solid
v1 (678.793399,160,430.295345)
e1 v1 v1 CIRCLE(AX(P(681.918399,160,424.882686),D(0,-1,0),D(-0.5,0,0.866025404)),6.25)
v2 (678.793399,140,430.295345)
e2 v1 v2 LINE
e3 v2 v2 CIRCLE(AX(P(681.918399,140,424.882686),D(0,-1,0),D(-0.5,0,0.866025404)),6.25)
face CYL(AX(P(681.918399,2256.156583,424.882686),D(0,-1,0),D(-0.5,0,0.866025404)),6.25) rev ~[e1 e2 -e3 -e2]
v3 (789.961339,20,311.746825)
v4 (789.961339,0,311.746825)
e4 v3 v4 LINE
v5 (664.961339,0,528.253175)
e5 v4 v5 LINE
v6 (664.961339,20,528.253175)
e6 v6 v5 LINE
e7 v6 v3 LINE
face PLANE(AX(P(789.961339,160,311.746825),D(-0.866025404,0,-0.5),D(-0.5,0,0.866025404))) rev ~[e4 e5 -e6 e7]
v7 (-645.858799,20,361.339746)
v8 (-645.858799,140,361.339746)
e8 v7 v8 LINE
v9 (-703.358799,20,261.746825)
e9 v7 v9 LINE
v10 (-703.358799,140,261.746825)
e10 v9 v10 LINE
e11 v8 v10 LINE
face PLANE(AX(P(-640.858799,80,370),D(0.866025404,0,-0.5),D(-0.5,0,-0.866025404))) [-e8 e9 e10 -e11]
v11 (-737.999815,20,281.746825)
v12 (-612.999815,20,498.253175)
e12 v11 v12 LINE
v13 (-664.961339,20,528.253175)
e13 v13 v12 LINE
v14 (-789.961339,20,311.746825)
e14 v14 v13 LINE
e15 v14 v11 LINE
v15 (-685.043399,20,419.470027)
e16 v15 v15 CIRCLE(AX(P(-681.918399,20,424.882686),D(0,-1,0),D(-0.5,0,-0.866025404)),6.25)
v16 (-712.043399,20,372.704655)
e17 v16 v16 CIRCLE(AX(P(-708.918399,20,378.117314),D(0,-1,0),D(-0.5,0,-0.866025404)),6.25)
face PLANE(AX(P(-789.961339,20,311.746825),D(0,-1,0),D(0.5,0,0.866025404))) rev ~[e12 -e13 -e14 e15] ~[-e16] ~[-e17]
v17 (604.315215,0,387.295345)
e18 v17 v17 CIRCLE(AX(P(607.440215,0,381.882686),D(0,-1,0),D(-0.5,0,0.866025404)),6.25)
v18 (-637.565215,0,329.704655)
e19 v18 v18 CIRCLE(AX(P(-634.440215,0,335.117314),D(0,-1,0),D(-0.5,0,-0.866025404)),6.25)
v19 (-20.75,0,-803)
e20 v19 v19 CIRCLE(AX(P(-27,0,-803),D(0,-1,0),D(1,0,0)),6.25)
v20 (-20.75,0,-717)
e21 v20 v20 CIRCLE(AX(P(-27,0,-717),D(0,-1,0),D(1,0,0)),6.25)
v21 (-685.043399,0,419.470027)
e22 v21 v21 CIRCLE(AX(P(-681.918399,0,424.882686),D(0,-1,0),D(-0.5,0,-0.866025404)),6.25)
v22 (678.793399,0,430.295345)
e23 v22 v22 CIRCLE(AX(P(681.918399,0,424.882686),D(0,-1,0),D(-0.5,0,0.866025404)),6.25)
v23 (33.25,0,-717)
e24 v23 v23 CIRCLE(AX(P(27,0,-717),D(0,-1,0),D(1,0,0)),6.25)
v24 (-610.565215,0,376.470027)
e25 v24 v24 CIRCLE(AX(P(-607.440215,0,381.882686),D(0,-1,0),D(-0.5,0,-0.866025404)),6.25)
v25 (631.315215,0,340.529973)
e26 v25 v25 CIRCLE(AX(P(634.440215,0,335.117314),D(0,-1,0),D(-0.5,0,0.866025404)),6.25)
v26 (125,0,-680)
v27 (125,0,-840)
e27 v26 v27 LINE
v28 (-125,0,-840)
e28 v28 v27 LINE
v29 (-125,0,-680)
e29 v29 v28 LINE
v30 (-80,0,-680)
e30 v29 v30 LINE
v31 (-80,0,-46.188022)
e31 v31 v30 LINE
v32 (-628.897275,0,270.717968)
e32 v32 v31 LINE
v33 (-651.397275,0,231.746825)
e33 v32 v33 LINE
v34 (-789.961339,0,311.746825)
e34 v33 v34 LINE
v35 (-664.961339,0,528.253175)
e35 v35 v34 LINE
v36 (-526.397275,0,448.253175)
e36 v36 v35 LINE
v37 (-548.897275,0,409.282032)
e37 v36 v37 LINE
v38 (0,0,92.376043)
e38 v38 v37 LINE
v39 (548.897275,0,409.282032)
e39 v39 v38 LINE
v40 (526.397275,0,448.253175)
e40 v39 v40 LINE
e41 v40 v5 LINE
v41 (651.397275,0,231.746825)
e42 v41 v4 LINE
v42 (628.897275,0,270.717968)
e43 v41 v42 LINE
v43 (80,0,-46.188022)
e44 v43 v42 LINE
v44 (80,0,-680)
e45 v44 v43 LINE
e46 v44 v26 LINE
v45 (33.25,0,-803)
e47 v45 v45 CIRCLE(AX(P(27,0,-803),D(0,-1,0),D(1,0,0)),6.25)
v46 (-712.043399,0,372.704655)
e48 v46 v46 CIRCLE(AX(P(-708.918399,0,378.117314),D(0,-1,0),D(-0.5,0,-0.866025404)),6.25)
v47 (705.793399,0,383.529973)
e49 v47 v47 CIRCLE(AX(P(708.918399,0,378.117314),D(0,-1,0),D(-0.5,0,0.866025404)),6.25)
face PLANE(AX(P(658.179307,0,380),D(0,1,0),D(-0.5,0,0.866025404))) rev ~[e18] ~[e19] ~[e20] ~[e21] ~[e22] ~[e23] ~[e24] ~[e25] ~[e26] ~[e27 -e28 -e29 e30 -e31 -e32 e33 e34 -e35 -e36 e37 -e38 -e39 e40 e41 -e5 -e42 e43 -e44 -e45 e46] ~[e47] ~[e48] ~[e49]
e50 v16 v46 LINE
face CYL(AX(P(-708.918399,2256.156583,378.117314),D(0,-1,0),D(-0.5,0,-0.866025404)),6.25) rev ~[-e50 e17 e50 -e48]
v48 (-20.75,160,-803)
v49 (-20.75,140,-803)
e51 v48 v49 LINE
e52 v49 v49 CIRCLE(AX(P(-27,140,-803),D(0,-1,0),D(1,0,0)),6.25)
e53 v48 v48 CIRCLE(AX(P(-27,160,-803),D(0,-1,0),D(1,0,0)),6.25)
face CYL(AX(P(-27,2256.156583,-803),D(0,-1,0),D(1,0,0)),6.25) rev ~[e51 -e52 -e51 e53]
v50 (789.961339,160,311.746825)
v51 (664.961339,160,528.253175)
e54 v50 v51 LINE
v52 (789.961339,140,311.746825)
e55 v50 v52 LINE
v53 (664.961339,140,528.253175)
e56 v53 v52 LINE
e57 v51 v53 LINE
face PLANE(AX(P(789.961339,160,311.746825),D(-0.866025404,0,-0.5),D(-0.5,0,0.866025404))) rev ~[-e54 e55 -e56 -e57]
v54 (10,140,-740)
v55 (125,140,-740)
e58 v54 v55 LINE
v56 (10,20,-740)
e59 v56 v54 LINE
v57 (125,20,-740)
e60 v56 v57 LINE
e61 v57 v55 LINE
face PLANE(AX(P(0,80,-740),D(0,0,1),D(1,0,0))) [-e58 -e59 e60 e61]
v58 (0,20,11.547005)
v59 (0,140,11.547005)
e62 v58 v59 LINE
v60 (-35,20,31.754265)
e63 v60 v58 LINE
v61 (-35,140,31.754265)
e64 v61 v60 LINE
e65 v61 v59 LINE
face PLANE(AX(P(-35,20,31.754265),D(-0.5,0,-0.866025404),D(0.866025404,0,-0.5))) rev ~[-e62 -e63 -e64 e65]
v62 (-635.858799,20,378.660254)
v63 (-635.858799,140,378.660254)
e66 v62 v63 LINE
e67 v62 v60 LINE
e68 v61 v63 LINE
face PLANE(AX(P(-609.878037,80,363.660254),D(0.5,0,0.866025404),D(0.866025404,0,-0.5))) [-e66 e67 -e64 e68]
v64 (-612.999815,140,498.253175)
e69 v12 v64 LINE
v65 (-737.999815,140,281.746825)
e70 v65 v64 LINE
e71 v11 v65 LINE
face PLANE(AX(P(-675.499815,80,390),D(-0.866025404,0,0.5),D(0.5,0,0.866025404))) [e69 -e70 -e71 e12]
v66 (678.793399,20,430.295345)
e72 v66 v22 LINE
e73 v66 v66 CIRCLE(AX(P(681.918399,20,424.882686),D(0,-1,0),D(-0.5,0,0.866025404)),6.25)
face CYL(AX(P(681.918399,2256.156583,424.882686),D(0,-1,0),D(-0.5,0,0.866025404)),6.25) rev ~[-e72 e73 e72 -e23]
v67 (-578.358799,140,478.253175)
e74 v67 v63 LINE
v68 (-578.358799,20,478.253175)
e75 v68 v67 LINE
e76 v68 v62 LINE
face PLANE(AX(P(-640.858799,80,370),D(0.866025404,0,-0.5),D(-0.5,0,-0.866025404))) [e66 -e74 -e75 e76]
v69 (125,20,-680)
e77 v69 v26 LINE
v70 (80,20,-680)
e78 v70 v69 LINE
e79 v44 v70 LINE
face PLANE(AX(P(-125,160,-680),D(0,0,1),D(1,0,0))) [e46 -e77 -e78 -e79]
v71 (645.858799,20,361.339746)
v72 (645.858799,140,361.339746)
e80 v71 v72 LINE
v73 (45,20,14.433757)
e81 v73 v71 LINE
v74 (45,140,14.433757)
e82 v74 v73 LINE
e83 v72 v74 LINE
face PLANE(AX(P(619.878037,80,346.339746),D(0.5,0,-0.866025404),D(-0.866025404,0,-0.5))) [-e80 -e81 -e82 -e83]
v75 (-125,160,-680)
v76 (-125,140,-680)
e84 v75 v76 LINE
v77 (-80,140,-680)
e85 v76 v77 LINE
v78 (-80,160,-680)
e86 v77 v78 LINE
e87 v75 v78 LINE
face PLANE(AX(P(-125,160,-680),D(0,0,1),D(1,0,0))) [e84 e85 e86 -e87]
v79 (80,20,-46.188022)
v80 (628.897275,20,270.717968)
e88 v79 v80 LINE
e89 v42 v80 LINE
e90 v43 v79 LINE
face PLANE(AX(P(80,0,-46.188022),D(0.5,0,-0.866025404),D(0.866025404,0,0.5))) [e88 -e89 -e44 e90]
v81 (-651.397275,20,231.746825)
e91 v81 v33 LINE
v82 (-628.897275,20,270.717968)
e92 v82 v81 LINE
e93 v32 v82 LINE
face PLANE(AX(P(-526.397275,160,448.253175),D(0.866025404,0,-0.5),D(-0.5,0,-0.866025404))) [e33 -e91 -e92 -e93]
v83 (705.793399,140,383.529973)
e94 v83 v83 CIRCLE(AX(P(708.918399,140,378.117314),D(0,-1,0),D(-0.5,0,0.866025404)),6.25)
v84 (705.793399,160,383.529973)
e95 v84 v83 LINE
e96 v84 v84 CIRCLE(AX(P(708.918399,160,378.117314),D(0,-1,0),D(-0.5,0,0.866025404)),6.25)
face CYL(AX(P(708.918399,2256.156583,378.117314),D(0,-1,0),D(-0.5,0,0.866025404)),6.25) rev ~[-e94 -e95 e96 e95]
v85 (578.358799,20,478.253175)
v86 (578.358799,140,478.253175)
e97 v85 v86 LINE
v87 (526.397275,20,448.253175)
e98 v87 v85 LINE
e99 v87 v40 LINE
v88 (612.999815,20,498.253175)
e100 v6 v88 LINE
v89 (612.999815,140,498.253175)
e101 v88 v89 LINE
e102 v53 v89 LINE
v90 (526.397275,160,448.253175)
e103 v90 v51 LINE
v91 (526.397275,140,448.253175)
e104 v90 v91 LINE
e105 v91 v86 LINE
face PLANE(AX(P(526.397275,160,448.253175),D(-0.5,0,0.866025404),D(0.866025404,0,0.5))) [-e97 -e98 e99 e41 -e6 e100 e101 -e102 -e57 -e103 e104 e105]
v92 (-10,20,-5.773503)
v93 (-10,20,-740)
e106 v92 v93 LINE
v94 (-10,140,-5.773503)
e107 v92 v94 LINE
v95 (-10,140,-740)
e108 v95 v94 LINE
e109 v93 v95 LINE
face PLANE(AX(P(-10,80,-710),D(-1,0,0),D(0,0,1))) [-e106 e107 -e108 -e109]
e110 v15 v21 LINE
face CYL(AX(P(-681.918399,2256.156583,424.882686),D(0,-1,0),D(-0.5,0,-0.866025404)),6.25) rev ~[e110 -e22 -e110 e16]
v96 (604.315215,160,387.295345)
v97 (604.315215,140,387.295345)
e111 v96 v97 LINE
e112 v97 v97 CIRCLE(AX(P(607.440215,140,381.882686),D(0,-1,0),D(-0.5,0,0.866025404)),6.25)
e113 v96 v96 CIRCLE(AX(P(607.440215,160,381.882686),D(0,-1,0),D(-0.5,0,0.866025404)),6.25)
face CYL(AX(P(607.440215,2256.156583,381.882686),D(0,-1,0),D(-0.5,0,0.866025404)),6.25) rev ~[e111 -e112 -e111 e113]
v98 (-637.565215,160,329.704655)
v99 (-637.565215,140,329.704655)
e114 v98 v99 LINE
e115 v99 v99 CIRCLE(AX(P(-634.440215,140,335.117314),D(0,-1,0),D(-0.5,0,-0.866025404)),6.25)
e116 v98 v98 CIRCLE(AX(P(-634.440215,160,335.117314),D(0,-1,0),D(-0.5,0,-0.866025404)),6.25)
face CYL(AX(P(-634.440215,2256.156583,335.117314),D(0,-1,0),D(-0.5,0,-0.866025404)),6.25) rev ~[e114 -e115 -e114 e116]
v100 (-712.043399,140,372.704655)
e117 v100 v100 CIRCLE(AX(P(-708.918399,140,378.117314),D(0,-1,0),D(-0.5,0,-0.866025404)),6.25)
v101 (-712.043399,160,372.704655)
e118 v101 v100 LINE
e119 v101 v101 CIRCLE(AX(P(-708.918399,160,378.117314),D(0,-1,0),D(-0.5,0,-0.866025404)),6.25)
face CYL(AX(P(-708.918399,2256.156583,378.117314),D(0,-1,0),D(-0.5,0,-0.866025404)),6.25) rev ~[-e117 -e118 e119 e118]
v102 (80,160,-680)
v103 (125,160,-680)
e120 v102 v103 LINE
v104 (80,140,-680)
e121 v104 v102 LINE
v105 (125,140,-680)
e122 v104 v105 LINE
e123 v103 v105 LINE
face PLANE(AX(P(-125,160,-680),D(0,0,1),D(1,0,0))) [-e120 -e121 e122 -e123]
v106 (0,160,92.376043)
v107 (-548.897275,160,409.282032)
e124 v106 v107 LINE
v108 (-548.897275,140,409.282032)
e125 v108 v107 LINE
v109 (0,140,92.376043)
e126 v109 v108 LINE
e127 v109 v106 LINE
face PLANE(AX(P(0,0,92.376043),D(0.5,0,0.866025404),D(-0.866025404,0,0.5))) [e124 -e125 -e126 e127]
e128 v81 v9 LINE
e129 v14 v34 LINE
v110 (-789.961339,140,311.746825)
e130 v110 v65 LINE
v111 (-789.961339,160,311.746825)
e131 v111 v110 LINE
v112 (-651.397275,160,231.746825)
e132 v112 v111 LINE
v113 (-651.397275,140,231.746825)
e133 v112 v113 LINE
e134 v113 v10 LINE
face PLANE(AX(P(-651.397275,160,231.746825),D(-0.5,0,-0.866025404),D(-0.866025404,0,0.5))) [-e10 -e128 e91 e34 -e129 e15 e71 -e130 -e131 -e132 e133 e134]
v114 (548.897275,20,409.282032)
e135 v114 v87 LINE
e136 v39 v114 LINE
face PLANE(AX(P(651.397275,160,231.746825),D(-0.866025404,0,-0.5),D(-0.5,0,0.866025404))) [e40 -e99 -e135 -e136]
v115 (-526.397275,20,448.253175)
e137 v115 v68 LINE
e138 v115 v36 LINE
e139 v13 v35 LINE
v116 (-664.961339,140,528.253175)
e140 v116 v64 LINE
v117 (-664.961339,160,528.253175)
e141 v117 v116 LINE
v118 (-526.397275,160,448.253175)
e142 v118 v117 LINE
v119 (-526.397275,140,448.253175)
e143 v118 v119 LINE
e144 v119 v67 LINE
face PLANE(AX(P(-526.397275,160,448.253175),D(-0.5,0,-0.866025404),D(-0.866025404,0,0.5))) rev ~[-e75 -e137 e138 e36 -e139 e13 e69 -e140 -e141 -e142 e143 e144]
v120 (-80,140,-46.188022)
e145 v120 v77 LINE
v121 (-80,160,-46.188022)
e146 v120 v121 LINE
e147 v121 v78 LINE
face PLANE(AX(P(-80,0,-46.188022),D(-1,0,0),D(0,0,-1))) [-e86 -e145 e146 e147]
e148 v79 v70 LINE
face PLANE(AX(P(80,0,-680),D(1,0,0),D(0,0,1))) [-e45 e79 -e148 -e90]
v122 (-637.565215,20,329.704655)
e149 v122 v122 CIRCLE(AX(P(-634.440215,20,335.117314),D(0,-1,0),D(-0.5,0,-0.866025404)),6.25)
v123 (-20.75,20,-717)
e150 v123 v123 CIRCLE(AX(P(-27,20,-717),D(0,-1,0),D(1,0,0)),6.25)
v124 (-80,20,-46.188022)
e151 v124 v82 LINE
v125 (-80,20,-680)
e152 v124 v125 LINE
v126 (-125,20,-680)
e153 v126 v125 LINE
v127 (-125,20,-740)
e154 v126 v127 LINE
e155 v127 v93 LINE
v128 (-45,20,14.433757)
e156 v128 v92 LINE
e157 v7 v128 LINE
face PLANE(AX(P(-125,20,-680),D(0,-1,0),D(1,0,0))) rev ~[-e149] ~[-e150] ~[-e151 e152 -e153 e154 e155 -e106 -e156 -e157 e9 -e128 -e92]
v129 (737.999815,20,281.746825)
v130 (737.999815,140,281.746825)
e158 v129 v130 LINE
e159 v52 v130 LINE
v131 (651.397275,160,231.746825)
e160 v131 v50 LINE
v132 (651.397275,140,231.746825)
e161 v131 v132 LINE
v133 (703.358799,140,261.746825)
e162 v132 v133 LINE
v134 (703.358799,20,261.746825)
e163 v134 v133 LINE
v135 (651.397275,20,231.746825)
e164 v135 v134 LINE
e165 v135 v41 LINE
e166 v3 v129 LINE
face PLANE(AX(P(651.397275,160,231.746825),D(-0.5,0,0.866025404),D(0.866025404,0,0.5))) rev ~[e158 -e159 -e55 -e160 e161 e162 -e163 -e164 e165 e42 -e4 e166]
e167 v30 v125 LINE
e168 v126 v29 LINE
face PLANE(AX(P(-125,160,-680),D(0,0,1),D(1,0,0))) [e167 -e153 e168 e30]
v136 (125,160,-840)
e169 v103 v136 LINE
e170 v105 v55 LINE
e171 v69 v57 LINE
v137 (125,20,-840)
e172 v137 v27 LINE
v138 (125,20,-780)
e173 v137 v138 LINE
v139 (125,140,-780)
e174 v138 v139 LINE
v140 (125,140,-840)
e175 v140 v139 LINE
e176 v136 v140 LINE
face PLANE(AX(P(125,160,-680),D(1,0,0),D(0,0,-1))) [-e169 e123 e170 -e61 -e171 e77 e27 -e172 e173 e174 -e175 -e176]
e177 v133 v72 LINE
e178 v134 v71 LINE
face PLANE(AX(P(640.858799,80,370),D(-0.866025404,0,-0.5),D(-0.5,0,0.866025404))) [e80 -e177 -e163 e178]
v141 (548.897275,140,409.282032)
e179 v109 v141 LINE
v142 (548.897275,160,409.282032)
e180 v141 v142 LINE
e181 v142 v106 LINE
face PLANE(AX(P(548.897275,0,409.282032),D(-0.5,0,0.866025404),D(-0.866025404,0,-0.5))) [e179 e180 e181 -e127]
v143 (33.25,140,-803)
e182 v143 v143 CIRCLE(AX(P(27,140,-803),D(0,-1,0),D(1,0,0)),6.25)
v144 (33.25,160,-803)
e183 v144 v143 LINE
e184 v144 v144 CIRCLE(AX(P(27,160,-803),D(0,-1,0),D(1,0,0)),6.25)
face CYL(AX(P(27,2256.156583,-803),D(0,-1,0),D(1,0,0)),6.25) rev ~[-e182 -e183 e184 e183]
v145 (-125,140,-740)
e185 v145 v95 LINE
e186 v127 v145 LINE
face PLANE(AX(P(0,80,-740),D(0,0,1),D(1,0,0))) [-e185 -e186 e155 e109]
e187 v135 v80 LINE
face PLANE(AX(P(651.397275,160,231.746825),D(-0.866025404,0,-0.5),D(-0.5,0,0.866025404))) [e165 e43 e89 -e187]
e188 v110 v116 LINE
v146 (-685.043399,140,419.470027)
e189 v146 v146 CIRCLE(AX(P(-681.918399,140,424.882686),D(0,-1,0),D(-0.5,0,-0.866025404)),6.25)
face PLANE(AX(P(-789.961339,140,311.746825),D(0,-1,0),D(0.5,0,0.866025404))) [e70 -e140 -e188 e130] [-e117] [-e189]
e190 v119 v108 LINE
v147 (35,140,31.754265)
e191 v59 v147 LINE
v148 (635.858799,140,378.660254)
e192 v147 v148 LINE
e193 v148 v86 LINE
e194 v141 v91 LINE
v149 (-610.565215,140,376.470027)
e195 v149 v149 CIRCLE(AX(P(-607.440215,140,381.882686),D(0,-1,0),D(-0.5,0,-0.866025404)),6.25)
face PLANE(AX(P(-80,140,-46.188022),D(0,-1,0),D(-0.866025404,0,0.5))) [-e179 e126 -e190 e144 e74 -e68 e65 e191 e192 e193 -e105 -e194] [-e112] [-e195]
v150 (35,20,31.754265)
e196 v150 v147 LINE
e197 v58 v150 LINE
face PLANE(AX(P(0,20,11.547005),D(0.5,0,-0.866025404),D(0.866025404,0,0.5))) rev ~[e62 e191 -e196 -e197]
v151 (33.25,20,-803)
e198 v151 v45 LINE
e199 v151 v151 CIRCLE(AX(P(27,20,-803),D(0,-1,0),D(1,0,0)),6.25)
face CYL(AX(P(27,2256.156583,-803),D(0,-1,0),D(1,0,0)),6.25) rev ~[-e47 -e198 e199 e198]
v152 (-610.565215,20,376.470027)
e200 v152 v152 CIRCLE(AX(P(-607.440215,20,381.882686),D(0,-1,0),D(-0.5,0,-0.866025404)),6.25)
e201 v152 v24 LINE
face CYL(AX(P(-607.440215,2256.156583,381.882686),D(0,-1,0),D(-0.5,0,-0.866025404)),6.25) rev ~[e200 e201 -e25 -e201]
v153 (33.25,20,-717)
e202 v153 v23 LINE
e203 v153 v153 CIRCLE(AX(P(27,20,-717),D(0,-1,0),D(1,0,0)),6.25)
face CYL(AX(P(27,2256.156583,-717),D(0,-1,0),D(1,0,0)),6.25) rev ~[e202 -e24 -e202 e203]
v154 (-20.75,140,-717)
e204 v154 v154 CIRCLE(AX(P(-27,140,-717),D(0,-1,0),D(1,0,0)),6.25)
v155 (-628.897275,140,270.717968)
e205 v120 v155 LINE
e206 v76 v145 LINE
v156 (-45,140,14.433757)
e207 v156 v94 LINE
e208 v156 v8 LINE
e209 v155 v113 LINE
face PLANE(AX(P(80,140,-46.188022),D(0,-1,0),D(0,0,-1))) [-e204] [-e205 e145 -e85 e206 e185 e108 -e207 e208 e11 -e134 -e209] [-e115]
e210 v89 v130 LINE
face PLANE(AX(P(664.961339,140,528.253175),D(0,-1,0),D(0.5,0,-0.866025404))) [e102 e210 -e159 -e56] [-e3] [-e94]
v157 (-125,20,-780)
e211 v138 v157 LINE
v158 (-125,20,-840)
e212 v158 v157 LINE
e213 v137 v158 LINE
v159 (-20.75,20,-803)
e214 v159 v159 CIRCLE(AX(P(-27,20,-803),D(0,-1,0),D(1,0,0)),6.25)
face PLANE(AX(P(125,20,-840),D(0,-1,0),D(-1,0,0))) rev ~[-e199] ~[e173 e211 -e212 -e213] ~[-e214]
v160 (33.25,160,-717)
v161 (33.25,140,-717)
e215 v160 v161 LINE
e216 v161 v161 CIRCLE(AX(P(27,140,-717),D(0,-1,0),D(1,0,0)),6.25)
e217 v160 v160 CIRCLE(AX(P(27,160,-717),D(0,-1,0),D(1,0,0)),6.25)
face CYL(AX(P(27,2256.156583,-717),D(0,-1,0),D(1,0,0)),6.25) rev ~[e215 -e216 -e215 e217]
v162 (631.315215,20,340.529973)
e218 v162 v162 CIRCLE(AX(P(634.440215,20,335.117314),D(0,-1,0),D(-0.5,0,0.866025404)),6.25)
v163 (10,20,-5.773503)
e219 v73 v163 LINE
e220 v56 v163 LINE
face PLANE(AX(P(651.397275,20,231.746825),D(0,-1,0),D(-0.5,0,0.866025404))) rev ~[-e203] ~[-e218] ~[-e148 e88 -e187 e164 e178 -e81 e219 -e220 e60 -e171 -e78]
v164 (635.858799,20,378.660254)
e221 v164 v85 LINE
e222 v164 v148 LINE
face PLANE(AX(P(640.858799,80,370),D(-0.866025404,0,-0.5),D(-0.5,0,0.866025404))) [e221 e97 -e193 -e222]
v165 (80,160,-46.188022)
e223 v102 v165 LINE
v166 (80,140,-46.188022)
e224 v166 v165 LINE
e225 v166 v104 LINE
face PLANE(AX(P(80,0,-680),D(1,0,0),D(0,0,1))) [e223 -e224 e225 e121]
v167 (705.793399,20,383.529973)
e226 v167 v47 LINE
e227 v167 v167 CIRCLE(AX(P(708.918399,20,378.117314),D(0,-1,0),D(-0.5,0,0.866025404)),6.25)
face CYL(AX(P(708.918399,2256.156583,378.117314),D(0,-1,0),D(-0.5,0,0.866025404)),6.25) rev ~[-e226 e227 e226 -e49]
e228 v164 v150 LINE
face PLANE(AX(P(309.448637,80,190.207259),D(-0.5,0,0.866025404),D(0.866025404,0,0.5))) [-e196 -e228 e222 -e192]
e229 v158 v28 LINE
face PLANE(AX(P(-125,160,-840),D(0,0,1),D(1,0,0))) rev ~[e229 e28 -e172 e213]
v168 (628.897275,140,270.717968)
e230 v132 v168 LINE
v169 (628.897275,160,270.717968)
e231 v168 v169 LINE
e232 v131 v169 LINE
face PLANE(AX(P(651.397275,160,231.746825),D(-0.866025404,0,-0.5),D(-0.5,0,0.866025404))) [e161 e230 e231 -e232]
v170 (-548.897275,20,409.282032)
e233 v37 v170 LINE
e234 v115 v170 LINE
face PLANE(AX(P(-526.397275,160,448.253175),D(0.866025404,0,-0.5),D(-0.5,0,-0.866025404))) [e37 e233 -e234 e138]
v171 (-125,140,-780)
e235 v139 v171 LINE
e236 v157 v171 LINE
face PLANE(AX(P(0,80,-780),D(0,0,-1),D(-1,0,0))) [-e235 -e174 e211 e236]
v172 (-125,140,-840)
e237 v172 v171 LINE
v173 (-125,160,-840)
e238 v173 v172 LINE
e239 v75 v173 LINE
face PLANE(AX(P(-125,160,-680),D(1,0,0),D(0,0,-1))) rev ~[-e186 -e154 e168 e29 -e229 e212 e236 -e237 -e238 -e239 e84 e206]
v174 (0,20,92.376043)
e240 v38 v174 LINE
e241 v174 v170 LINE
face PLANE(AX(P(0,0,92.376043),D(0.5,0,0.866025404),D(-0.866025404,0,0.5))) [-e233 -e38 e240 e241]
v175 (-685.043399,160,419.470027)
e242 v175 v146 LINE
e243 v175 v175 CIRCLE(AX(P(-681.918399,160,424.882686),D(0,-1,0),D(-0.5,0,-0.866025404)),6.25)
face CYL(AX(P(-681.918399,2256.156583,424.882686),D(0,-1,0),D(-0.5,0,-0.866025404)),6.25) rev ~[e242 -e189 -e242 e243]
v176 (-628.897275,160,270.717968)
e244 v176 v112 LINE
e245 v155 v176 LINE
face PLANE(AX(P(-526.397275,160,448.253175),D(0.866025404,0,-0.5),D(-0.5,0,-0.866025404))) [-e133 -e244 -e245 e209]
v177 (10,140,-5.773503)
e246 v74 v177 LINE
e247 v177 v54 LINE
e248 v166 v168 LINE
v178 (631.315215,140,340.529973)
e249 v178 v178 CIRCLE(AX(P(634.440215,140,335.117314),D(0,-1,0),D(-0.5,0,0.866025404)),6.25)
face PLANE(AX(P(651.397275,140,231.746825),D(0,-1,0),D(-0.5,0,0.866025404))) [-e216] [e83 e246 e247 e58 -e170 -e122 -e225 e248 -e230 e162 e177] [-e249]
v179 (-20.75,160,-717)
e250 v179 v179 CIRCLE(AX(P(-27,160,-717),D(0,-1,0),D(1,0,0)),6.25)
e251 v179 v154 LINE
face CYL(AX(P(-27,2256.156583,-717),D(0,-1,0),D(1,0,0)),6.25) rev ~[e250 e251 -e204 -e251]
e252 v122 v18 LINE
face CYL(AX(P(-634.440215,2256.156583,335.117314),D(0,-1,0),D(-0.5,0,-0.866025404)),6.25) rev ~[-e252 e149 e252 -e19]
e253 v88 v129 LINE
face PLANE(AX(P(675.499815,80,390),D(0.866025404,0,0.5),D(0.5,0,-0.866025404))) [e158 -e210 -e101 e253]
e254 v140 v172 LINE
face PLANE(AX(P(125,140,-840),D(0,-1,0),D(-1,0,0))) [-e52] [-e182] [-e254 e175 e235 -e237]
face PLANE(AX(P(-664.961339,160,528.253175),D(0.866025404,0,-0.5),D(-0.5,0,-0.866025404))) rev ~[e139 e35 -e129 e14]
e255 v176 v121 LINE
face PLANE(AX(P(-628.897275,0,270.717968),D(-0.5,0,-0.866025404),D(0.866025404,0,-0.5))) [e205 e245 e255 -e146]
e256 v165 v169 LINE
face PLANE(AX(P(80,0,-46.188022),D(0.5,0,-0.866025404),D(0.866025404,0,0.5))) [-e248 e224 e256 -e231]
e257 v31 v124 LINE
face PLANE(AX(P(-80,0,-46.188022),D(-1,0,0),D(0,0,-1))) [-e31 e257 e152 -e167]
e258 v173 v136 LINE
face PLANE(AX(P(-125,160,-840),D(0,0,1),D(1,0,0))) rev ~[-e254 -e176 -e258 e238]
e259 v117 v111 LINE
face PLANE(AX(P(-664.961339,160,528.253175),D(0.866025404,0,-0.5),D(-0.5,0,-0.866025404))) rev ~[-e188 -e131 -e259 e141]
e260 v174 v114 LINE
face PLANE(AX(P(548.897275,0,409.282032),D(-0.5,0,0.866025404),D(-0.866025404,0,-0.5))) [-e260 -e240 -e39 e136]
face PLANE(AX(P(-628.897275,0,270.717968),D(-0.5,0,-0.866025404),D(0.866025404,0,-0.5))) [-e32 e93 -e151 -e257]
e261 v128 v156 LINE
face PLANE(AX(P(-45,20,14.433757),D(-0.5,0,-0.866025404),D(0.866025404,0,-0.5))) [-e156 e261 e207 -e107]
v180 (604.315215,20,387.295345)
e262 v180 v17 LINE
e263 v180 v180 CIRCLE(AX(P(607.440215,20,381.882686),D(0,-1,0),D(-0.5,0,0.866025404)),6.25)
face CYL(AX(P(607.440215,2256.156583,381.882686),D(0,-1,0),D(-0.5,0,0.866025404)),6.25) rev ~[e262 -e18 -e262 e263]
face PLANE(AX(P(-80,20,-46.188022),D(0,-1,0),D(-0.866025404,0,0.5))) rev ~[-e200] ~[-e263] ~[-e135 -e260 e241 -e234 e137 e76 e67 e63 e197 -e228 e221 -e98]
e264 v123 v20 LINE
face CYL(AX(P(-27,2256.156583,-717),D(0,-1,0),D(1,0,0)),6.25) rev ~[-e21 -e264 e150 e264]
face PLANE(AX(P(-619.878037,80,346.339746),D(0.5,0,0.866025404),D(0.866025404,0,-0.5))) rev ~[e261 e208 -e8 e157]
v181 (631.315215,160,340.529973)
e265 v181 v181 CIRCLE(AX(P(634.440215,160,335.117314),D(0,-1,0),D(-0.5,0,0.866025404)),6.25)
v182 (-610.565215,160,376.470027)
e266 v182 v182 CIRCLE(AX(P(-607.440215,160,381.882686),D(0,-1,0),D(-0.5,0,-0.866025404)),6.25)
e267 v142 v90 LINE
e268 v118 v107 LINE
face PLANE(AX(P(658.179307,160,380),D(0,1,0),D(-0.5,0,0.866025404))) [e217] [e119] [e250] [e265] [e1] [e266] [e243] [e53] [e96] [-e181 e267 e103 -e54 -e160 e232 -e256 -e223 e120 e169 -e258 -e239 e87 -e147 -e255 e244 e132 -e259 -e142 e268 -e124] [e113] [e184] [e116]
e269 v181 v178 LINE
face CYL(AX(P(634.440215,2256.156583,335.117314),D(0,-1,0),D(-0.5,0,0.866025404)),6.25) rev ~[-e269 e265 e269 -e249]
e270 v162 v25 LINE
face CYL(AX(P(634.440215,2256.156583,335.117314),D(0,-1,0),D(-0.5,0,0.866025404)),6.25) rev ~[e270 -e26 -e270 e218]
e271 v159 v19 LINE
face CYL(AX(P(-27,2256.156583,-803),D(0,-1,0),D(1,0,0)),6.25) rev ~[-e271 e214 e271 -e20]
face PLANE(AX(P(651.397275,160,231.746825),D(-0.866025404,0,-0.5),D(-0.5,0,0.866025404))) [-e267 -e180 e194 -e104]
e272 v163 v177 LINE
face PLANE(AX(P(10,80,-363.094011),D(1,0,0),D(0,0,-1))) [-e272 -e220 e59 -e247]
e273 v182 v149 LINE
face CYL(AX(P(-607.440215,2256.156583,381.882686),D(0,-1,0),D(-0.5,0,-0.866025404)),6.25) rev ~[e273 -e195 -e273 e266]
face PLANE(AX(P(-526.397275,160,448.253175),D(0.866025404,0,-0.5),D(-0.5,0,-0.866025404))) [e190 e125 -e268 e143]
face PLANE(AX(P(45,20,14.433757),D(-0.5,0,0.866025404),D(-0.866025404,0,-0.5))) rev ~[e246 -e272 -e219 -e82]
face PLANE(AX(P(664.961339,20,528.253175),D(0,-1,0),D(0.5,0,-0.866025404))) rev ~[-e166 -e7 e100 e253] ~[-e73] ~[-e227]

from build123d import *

# Parameters (mm, degrees)
EXTRUDE_1_DEPTH                    = 160
SKETCH_2_W                         = 250
SKETCH_2_H                         = 160
EXTRUDE_2_DEPTH                    = 160
PATTERN_CIRCULAR_1_COUNT           = 3
SKETCH_3_W                         = 633.811978465
SKETCH_3_H                         = 120
CUT_EXTRUDE_1_DEPTH                = 70
SKETCH_4_W                         = 250
SKETCH_4_H                         = 120
CUT_EXTRUDE_2_DEPTH                = 60
SKETCH_5_W                         = 250
SKETCH_5_H                         = 120
CUT_EXTRUDE_3_DEPTH                = 60
SKETCH_6_W                         = 60
SKETCH_6_H                         = 120
EXTRUDE_3_DEPTH                    = 20
PATTERN_CIRCULAR_4_COUNT           = 3
PATTERN_CIRCULAR_4_COPY_1_SKETCH_W = 633.811978465
PATTERN_CIRCULAR_4_COPY_1_SKETCH_H = 120
PATTERN_CIRCULAR_4_COPY_1_DEPTH    = 70
PATTERN_CIRCULAR_4_COPY_2_SKETCH_W = 633.811978465
PATTERN_CIRCULAR_4_COPY_2_SKETCH_H = 120
PATTERN_CIRCULAR_4_COPY_2_DEPTH    = 70
CUT_EXTRUDE_4_DEPTH                = 120
M14X1_5_1_D                        = 12.5
PATTERN_CIRCULAR_5_COUNT           = 3


with BuildPart() as part:
    # 草圖1 → 填料-伸長1 (new body)
    with BuildSketch(Plane(origin=(0, 0, 0), x_dir=(1, 0, 0), z_dir=(0, 1, 0))):
        Polygon((-80, 46.188021535), (-80, 680), (80, 680), (80, 46.188021535), (628.897274573, -270.717967697), (548.897274573, -409.282032303), (0, -92.37604307), (-548.897274573, -409.282032303), (-628.897274573, -270.717967697), align=None)
    extrude(amount=EXTRUDE_1_DEPTH)

    # 草圖2 → 填料-伸長2 (add)
    with BuildSketch(Plane(origin=(0, 160, 0), x_dir=(1, 0, 0), z_dir=(0, 1, 0))):
        with Locations((0, 760)):
            Rectangle(SKETCH_2_W, SKETCH_2_H)
    extrude_2 = extrude(amount=-EXTRUDE_2_DEPTH)

    # 環狀複製排列1: 填料-伸長2 ×3 about axis
    pattern_circular_1_axis = Axis((0, 0, 0), (0, 1, 0))
    for i in range(1, PATTERN_CIRCULAR_1_COUNT):
        add(extrude_2.rotate(pattern_circular_1_axis, i * 360 / PATTERN_CIRCULAR_1_COUNT))

    # 草圖3 → 除料-伸長1 (cut)
    with BuildSketch(Plane(origin=(80, 0, 0), x_dir=(0, 0, -1), z_dir=(1, 0, 0))):
        with Locations((363.094010767, 80)):
            Rectangle(SKETCH_3_W, SKETCH_3_H)
    cut_extrude_1 = extrude(amount=-CUT_EXTRUDE_1_DEPTH, mode=Mode.SUBTRACT)

    # 鏡射1: 除料-伸長1 across plane
    add(cut_extrude_1.mirror(Plane(origin=(0, 0, 0), x_dir=(0, 0, 1), z_dir=(1, 0, 0))), mode=Mode.SUBTRACT)

    # 草圖4 → 除料-伸長2 (cut)
    with BuildSketch(Plane.XY.offset(-680)):
        with Locations((0, 80)):
            Rectangle(SKETCH_4_W, SKETCH_4_H)
    cut_extrude_2 = extrude(amount=-CUT_EXTRUDE_2_DEPTH, mode=Mode.SUBTRACT)

    # 草圖5 → 除料-伸長3 (cut)
    with BuildSketch(Plane(origin=(0, 0, -840), x_dir=(-1, 0, 0), z_dir=(0, 0, -1))):
        with Locations((0, 80)):
            Rectangle(SKETCH_5_W, SKETCH_5_H)
    cut_extrude_3 = extrude(amount=-CUT_EXTRUDE_3_DEPTH, mode=Mode.SUBTRACT)

    # 草圖6 → 填料-伸長3 (add)
    with BuildSketch(Plane.ZY.offset(10)):
        with Locations((-710, 80)):
            Rectangle(SKETCH_6_W, SKETCH_6_H)
    extrude_3 = extrude(amount=-EXTRUDE_3_DEPTH)

    # 環狀複製排列4: 除料-伸長1, 除料-伸長2, 除料-伸長3, 填料-伸長3 ×3 about axis
    pattern_circular_4_axis = Axis((0, 0, 0), (0, 1, 0))
    add([cut_extrude_1.rotate(pattern_circular_4_axis, i * 360 / PATTERN_CIRCULAR_4_COUNT) for i in range(1, PATTERN_CIRCULAR_4_COUNT)], mode=Mode.SUBTRACT)
    add([cut_extrude_2.rotate(pattern_circular_4_axis, i * 360 / PATTERN_CIRCULAR_4_COUNT) for i in range(1, PATTERN_CIRCULAR_4_COUNT)], mode=Mode.SUBTRACT)
    add([cut_extrude_3.rotate(pattern_circular_4_axis, i * 360 / PATTERN_CIRCULAR_4_COUNT) for i in range(1, PATTERN_CIRCULAR_4_COUNT)], mode=Mode.SUBTRACT)
    add([extrude_3.rotate(pattern_circular_4_axis, i * 360 / PATTERN_CIRCULAR_4_COUNT) for i in range(1, PATTERN_CIRCULAR_4_COUNT)])

    # 環狀複製排列4 copy 1 sketch → 環狀複製排列4 copy 1 (cut)
    with BuildSketch(Plane(origin=(40, 0, 69.282032303), x_dir=(-0.8660254037844387, 0, 0.4999999999999998), z_dir=(0.4999999999999998, 0, 0.8660254037844387))):
        with Locations((363.094010767, -80)):
            Rectangle(PATTERN_CIRCULAR_4_COPY_1_SKETCH_W, PATTERN_CIRCULAR_4_COPY_1_SKETCH_H)
    extrude(amount=-PATTERN_CIRCULAR_4_COPY_1_DEPTH, mode=Mode.SUBTRACT)

    # 環狀複製排列4 copy 2 sketch → 環狀複製排列4 copy 2 (cut)
    with BuildSketch(Plane(origin=(40, 0, -69.282032303), x_dir=(0.8660254037844384, 0, 0.5000000000000004), z_dir=(0.5000000000000004, 0, -0.8660254037844384))):
        with Locations((363.094010767, -80)):
            Rectangle(PATTERN_CIRCULAR_4_COPY_2_SKETCH_W, PATTERN_CIRCULAR_4_COPY_2_SKETCH_H)
    extrude(amount=-PATTERN_CIRCULAR_4_COPY_2_DEPTH, mode=Mode.SUBTRACT)

    # 草圖7 → 除料-伸長4 (cut)
    with BuildSketch(Plane(origin=(0, 20, 0), x_dir=(1, 0, 0), z_dir=(0, 1, 0))):
        Polygon((-10, 46.188021535), (-80, 46.188021535), (-45, -14.43375673), (-10, 5.773502692), align=None)
        Polygon((10, 46.188021535), (80, 46.188021535), (45, -14.43375673), (10, 5.773502692), align=None)
        Polygon((-35, -31.754264805), (0, -11.547005384), (35, -31.754264805), (0, -92.37604307), align=None)
    extrude(amount=CUT_EXTRUDE_4_DEPTH, mode=Mode.SUBTRACT)

    # M14x1.5 螺紋孔1 (through all)
    with Locations(Plane(origin=(0, 160, 0), x_dir=(-1, 0, 0), z_dir=(0, 1, 0))):
        with Locations((27, -803), (-27, -803), (-27, -717), (27, -717)):
            m14x1_5_1 = Hole(M14X1_5_1_D / 2)

    # 環狀複製排列5: M14x1.5 螺紋孔1 ×3 about axis
    pattern_circular_5_axis = Axis((0, 0, 0), (0, 1, 0))
    for i in range(1, PATTERN_CIRCULAR_5_COUNT):
        add(m14x1_5_1.rotate(pattern_circular_5_axis, i * 360 / PATTERN_CIRCULAR_5_COUNT), mode=Mode.SUBTRACT)


solid = part.part
